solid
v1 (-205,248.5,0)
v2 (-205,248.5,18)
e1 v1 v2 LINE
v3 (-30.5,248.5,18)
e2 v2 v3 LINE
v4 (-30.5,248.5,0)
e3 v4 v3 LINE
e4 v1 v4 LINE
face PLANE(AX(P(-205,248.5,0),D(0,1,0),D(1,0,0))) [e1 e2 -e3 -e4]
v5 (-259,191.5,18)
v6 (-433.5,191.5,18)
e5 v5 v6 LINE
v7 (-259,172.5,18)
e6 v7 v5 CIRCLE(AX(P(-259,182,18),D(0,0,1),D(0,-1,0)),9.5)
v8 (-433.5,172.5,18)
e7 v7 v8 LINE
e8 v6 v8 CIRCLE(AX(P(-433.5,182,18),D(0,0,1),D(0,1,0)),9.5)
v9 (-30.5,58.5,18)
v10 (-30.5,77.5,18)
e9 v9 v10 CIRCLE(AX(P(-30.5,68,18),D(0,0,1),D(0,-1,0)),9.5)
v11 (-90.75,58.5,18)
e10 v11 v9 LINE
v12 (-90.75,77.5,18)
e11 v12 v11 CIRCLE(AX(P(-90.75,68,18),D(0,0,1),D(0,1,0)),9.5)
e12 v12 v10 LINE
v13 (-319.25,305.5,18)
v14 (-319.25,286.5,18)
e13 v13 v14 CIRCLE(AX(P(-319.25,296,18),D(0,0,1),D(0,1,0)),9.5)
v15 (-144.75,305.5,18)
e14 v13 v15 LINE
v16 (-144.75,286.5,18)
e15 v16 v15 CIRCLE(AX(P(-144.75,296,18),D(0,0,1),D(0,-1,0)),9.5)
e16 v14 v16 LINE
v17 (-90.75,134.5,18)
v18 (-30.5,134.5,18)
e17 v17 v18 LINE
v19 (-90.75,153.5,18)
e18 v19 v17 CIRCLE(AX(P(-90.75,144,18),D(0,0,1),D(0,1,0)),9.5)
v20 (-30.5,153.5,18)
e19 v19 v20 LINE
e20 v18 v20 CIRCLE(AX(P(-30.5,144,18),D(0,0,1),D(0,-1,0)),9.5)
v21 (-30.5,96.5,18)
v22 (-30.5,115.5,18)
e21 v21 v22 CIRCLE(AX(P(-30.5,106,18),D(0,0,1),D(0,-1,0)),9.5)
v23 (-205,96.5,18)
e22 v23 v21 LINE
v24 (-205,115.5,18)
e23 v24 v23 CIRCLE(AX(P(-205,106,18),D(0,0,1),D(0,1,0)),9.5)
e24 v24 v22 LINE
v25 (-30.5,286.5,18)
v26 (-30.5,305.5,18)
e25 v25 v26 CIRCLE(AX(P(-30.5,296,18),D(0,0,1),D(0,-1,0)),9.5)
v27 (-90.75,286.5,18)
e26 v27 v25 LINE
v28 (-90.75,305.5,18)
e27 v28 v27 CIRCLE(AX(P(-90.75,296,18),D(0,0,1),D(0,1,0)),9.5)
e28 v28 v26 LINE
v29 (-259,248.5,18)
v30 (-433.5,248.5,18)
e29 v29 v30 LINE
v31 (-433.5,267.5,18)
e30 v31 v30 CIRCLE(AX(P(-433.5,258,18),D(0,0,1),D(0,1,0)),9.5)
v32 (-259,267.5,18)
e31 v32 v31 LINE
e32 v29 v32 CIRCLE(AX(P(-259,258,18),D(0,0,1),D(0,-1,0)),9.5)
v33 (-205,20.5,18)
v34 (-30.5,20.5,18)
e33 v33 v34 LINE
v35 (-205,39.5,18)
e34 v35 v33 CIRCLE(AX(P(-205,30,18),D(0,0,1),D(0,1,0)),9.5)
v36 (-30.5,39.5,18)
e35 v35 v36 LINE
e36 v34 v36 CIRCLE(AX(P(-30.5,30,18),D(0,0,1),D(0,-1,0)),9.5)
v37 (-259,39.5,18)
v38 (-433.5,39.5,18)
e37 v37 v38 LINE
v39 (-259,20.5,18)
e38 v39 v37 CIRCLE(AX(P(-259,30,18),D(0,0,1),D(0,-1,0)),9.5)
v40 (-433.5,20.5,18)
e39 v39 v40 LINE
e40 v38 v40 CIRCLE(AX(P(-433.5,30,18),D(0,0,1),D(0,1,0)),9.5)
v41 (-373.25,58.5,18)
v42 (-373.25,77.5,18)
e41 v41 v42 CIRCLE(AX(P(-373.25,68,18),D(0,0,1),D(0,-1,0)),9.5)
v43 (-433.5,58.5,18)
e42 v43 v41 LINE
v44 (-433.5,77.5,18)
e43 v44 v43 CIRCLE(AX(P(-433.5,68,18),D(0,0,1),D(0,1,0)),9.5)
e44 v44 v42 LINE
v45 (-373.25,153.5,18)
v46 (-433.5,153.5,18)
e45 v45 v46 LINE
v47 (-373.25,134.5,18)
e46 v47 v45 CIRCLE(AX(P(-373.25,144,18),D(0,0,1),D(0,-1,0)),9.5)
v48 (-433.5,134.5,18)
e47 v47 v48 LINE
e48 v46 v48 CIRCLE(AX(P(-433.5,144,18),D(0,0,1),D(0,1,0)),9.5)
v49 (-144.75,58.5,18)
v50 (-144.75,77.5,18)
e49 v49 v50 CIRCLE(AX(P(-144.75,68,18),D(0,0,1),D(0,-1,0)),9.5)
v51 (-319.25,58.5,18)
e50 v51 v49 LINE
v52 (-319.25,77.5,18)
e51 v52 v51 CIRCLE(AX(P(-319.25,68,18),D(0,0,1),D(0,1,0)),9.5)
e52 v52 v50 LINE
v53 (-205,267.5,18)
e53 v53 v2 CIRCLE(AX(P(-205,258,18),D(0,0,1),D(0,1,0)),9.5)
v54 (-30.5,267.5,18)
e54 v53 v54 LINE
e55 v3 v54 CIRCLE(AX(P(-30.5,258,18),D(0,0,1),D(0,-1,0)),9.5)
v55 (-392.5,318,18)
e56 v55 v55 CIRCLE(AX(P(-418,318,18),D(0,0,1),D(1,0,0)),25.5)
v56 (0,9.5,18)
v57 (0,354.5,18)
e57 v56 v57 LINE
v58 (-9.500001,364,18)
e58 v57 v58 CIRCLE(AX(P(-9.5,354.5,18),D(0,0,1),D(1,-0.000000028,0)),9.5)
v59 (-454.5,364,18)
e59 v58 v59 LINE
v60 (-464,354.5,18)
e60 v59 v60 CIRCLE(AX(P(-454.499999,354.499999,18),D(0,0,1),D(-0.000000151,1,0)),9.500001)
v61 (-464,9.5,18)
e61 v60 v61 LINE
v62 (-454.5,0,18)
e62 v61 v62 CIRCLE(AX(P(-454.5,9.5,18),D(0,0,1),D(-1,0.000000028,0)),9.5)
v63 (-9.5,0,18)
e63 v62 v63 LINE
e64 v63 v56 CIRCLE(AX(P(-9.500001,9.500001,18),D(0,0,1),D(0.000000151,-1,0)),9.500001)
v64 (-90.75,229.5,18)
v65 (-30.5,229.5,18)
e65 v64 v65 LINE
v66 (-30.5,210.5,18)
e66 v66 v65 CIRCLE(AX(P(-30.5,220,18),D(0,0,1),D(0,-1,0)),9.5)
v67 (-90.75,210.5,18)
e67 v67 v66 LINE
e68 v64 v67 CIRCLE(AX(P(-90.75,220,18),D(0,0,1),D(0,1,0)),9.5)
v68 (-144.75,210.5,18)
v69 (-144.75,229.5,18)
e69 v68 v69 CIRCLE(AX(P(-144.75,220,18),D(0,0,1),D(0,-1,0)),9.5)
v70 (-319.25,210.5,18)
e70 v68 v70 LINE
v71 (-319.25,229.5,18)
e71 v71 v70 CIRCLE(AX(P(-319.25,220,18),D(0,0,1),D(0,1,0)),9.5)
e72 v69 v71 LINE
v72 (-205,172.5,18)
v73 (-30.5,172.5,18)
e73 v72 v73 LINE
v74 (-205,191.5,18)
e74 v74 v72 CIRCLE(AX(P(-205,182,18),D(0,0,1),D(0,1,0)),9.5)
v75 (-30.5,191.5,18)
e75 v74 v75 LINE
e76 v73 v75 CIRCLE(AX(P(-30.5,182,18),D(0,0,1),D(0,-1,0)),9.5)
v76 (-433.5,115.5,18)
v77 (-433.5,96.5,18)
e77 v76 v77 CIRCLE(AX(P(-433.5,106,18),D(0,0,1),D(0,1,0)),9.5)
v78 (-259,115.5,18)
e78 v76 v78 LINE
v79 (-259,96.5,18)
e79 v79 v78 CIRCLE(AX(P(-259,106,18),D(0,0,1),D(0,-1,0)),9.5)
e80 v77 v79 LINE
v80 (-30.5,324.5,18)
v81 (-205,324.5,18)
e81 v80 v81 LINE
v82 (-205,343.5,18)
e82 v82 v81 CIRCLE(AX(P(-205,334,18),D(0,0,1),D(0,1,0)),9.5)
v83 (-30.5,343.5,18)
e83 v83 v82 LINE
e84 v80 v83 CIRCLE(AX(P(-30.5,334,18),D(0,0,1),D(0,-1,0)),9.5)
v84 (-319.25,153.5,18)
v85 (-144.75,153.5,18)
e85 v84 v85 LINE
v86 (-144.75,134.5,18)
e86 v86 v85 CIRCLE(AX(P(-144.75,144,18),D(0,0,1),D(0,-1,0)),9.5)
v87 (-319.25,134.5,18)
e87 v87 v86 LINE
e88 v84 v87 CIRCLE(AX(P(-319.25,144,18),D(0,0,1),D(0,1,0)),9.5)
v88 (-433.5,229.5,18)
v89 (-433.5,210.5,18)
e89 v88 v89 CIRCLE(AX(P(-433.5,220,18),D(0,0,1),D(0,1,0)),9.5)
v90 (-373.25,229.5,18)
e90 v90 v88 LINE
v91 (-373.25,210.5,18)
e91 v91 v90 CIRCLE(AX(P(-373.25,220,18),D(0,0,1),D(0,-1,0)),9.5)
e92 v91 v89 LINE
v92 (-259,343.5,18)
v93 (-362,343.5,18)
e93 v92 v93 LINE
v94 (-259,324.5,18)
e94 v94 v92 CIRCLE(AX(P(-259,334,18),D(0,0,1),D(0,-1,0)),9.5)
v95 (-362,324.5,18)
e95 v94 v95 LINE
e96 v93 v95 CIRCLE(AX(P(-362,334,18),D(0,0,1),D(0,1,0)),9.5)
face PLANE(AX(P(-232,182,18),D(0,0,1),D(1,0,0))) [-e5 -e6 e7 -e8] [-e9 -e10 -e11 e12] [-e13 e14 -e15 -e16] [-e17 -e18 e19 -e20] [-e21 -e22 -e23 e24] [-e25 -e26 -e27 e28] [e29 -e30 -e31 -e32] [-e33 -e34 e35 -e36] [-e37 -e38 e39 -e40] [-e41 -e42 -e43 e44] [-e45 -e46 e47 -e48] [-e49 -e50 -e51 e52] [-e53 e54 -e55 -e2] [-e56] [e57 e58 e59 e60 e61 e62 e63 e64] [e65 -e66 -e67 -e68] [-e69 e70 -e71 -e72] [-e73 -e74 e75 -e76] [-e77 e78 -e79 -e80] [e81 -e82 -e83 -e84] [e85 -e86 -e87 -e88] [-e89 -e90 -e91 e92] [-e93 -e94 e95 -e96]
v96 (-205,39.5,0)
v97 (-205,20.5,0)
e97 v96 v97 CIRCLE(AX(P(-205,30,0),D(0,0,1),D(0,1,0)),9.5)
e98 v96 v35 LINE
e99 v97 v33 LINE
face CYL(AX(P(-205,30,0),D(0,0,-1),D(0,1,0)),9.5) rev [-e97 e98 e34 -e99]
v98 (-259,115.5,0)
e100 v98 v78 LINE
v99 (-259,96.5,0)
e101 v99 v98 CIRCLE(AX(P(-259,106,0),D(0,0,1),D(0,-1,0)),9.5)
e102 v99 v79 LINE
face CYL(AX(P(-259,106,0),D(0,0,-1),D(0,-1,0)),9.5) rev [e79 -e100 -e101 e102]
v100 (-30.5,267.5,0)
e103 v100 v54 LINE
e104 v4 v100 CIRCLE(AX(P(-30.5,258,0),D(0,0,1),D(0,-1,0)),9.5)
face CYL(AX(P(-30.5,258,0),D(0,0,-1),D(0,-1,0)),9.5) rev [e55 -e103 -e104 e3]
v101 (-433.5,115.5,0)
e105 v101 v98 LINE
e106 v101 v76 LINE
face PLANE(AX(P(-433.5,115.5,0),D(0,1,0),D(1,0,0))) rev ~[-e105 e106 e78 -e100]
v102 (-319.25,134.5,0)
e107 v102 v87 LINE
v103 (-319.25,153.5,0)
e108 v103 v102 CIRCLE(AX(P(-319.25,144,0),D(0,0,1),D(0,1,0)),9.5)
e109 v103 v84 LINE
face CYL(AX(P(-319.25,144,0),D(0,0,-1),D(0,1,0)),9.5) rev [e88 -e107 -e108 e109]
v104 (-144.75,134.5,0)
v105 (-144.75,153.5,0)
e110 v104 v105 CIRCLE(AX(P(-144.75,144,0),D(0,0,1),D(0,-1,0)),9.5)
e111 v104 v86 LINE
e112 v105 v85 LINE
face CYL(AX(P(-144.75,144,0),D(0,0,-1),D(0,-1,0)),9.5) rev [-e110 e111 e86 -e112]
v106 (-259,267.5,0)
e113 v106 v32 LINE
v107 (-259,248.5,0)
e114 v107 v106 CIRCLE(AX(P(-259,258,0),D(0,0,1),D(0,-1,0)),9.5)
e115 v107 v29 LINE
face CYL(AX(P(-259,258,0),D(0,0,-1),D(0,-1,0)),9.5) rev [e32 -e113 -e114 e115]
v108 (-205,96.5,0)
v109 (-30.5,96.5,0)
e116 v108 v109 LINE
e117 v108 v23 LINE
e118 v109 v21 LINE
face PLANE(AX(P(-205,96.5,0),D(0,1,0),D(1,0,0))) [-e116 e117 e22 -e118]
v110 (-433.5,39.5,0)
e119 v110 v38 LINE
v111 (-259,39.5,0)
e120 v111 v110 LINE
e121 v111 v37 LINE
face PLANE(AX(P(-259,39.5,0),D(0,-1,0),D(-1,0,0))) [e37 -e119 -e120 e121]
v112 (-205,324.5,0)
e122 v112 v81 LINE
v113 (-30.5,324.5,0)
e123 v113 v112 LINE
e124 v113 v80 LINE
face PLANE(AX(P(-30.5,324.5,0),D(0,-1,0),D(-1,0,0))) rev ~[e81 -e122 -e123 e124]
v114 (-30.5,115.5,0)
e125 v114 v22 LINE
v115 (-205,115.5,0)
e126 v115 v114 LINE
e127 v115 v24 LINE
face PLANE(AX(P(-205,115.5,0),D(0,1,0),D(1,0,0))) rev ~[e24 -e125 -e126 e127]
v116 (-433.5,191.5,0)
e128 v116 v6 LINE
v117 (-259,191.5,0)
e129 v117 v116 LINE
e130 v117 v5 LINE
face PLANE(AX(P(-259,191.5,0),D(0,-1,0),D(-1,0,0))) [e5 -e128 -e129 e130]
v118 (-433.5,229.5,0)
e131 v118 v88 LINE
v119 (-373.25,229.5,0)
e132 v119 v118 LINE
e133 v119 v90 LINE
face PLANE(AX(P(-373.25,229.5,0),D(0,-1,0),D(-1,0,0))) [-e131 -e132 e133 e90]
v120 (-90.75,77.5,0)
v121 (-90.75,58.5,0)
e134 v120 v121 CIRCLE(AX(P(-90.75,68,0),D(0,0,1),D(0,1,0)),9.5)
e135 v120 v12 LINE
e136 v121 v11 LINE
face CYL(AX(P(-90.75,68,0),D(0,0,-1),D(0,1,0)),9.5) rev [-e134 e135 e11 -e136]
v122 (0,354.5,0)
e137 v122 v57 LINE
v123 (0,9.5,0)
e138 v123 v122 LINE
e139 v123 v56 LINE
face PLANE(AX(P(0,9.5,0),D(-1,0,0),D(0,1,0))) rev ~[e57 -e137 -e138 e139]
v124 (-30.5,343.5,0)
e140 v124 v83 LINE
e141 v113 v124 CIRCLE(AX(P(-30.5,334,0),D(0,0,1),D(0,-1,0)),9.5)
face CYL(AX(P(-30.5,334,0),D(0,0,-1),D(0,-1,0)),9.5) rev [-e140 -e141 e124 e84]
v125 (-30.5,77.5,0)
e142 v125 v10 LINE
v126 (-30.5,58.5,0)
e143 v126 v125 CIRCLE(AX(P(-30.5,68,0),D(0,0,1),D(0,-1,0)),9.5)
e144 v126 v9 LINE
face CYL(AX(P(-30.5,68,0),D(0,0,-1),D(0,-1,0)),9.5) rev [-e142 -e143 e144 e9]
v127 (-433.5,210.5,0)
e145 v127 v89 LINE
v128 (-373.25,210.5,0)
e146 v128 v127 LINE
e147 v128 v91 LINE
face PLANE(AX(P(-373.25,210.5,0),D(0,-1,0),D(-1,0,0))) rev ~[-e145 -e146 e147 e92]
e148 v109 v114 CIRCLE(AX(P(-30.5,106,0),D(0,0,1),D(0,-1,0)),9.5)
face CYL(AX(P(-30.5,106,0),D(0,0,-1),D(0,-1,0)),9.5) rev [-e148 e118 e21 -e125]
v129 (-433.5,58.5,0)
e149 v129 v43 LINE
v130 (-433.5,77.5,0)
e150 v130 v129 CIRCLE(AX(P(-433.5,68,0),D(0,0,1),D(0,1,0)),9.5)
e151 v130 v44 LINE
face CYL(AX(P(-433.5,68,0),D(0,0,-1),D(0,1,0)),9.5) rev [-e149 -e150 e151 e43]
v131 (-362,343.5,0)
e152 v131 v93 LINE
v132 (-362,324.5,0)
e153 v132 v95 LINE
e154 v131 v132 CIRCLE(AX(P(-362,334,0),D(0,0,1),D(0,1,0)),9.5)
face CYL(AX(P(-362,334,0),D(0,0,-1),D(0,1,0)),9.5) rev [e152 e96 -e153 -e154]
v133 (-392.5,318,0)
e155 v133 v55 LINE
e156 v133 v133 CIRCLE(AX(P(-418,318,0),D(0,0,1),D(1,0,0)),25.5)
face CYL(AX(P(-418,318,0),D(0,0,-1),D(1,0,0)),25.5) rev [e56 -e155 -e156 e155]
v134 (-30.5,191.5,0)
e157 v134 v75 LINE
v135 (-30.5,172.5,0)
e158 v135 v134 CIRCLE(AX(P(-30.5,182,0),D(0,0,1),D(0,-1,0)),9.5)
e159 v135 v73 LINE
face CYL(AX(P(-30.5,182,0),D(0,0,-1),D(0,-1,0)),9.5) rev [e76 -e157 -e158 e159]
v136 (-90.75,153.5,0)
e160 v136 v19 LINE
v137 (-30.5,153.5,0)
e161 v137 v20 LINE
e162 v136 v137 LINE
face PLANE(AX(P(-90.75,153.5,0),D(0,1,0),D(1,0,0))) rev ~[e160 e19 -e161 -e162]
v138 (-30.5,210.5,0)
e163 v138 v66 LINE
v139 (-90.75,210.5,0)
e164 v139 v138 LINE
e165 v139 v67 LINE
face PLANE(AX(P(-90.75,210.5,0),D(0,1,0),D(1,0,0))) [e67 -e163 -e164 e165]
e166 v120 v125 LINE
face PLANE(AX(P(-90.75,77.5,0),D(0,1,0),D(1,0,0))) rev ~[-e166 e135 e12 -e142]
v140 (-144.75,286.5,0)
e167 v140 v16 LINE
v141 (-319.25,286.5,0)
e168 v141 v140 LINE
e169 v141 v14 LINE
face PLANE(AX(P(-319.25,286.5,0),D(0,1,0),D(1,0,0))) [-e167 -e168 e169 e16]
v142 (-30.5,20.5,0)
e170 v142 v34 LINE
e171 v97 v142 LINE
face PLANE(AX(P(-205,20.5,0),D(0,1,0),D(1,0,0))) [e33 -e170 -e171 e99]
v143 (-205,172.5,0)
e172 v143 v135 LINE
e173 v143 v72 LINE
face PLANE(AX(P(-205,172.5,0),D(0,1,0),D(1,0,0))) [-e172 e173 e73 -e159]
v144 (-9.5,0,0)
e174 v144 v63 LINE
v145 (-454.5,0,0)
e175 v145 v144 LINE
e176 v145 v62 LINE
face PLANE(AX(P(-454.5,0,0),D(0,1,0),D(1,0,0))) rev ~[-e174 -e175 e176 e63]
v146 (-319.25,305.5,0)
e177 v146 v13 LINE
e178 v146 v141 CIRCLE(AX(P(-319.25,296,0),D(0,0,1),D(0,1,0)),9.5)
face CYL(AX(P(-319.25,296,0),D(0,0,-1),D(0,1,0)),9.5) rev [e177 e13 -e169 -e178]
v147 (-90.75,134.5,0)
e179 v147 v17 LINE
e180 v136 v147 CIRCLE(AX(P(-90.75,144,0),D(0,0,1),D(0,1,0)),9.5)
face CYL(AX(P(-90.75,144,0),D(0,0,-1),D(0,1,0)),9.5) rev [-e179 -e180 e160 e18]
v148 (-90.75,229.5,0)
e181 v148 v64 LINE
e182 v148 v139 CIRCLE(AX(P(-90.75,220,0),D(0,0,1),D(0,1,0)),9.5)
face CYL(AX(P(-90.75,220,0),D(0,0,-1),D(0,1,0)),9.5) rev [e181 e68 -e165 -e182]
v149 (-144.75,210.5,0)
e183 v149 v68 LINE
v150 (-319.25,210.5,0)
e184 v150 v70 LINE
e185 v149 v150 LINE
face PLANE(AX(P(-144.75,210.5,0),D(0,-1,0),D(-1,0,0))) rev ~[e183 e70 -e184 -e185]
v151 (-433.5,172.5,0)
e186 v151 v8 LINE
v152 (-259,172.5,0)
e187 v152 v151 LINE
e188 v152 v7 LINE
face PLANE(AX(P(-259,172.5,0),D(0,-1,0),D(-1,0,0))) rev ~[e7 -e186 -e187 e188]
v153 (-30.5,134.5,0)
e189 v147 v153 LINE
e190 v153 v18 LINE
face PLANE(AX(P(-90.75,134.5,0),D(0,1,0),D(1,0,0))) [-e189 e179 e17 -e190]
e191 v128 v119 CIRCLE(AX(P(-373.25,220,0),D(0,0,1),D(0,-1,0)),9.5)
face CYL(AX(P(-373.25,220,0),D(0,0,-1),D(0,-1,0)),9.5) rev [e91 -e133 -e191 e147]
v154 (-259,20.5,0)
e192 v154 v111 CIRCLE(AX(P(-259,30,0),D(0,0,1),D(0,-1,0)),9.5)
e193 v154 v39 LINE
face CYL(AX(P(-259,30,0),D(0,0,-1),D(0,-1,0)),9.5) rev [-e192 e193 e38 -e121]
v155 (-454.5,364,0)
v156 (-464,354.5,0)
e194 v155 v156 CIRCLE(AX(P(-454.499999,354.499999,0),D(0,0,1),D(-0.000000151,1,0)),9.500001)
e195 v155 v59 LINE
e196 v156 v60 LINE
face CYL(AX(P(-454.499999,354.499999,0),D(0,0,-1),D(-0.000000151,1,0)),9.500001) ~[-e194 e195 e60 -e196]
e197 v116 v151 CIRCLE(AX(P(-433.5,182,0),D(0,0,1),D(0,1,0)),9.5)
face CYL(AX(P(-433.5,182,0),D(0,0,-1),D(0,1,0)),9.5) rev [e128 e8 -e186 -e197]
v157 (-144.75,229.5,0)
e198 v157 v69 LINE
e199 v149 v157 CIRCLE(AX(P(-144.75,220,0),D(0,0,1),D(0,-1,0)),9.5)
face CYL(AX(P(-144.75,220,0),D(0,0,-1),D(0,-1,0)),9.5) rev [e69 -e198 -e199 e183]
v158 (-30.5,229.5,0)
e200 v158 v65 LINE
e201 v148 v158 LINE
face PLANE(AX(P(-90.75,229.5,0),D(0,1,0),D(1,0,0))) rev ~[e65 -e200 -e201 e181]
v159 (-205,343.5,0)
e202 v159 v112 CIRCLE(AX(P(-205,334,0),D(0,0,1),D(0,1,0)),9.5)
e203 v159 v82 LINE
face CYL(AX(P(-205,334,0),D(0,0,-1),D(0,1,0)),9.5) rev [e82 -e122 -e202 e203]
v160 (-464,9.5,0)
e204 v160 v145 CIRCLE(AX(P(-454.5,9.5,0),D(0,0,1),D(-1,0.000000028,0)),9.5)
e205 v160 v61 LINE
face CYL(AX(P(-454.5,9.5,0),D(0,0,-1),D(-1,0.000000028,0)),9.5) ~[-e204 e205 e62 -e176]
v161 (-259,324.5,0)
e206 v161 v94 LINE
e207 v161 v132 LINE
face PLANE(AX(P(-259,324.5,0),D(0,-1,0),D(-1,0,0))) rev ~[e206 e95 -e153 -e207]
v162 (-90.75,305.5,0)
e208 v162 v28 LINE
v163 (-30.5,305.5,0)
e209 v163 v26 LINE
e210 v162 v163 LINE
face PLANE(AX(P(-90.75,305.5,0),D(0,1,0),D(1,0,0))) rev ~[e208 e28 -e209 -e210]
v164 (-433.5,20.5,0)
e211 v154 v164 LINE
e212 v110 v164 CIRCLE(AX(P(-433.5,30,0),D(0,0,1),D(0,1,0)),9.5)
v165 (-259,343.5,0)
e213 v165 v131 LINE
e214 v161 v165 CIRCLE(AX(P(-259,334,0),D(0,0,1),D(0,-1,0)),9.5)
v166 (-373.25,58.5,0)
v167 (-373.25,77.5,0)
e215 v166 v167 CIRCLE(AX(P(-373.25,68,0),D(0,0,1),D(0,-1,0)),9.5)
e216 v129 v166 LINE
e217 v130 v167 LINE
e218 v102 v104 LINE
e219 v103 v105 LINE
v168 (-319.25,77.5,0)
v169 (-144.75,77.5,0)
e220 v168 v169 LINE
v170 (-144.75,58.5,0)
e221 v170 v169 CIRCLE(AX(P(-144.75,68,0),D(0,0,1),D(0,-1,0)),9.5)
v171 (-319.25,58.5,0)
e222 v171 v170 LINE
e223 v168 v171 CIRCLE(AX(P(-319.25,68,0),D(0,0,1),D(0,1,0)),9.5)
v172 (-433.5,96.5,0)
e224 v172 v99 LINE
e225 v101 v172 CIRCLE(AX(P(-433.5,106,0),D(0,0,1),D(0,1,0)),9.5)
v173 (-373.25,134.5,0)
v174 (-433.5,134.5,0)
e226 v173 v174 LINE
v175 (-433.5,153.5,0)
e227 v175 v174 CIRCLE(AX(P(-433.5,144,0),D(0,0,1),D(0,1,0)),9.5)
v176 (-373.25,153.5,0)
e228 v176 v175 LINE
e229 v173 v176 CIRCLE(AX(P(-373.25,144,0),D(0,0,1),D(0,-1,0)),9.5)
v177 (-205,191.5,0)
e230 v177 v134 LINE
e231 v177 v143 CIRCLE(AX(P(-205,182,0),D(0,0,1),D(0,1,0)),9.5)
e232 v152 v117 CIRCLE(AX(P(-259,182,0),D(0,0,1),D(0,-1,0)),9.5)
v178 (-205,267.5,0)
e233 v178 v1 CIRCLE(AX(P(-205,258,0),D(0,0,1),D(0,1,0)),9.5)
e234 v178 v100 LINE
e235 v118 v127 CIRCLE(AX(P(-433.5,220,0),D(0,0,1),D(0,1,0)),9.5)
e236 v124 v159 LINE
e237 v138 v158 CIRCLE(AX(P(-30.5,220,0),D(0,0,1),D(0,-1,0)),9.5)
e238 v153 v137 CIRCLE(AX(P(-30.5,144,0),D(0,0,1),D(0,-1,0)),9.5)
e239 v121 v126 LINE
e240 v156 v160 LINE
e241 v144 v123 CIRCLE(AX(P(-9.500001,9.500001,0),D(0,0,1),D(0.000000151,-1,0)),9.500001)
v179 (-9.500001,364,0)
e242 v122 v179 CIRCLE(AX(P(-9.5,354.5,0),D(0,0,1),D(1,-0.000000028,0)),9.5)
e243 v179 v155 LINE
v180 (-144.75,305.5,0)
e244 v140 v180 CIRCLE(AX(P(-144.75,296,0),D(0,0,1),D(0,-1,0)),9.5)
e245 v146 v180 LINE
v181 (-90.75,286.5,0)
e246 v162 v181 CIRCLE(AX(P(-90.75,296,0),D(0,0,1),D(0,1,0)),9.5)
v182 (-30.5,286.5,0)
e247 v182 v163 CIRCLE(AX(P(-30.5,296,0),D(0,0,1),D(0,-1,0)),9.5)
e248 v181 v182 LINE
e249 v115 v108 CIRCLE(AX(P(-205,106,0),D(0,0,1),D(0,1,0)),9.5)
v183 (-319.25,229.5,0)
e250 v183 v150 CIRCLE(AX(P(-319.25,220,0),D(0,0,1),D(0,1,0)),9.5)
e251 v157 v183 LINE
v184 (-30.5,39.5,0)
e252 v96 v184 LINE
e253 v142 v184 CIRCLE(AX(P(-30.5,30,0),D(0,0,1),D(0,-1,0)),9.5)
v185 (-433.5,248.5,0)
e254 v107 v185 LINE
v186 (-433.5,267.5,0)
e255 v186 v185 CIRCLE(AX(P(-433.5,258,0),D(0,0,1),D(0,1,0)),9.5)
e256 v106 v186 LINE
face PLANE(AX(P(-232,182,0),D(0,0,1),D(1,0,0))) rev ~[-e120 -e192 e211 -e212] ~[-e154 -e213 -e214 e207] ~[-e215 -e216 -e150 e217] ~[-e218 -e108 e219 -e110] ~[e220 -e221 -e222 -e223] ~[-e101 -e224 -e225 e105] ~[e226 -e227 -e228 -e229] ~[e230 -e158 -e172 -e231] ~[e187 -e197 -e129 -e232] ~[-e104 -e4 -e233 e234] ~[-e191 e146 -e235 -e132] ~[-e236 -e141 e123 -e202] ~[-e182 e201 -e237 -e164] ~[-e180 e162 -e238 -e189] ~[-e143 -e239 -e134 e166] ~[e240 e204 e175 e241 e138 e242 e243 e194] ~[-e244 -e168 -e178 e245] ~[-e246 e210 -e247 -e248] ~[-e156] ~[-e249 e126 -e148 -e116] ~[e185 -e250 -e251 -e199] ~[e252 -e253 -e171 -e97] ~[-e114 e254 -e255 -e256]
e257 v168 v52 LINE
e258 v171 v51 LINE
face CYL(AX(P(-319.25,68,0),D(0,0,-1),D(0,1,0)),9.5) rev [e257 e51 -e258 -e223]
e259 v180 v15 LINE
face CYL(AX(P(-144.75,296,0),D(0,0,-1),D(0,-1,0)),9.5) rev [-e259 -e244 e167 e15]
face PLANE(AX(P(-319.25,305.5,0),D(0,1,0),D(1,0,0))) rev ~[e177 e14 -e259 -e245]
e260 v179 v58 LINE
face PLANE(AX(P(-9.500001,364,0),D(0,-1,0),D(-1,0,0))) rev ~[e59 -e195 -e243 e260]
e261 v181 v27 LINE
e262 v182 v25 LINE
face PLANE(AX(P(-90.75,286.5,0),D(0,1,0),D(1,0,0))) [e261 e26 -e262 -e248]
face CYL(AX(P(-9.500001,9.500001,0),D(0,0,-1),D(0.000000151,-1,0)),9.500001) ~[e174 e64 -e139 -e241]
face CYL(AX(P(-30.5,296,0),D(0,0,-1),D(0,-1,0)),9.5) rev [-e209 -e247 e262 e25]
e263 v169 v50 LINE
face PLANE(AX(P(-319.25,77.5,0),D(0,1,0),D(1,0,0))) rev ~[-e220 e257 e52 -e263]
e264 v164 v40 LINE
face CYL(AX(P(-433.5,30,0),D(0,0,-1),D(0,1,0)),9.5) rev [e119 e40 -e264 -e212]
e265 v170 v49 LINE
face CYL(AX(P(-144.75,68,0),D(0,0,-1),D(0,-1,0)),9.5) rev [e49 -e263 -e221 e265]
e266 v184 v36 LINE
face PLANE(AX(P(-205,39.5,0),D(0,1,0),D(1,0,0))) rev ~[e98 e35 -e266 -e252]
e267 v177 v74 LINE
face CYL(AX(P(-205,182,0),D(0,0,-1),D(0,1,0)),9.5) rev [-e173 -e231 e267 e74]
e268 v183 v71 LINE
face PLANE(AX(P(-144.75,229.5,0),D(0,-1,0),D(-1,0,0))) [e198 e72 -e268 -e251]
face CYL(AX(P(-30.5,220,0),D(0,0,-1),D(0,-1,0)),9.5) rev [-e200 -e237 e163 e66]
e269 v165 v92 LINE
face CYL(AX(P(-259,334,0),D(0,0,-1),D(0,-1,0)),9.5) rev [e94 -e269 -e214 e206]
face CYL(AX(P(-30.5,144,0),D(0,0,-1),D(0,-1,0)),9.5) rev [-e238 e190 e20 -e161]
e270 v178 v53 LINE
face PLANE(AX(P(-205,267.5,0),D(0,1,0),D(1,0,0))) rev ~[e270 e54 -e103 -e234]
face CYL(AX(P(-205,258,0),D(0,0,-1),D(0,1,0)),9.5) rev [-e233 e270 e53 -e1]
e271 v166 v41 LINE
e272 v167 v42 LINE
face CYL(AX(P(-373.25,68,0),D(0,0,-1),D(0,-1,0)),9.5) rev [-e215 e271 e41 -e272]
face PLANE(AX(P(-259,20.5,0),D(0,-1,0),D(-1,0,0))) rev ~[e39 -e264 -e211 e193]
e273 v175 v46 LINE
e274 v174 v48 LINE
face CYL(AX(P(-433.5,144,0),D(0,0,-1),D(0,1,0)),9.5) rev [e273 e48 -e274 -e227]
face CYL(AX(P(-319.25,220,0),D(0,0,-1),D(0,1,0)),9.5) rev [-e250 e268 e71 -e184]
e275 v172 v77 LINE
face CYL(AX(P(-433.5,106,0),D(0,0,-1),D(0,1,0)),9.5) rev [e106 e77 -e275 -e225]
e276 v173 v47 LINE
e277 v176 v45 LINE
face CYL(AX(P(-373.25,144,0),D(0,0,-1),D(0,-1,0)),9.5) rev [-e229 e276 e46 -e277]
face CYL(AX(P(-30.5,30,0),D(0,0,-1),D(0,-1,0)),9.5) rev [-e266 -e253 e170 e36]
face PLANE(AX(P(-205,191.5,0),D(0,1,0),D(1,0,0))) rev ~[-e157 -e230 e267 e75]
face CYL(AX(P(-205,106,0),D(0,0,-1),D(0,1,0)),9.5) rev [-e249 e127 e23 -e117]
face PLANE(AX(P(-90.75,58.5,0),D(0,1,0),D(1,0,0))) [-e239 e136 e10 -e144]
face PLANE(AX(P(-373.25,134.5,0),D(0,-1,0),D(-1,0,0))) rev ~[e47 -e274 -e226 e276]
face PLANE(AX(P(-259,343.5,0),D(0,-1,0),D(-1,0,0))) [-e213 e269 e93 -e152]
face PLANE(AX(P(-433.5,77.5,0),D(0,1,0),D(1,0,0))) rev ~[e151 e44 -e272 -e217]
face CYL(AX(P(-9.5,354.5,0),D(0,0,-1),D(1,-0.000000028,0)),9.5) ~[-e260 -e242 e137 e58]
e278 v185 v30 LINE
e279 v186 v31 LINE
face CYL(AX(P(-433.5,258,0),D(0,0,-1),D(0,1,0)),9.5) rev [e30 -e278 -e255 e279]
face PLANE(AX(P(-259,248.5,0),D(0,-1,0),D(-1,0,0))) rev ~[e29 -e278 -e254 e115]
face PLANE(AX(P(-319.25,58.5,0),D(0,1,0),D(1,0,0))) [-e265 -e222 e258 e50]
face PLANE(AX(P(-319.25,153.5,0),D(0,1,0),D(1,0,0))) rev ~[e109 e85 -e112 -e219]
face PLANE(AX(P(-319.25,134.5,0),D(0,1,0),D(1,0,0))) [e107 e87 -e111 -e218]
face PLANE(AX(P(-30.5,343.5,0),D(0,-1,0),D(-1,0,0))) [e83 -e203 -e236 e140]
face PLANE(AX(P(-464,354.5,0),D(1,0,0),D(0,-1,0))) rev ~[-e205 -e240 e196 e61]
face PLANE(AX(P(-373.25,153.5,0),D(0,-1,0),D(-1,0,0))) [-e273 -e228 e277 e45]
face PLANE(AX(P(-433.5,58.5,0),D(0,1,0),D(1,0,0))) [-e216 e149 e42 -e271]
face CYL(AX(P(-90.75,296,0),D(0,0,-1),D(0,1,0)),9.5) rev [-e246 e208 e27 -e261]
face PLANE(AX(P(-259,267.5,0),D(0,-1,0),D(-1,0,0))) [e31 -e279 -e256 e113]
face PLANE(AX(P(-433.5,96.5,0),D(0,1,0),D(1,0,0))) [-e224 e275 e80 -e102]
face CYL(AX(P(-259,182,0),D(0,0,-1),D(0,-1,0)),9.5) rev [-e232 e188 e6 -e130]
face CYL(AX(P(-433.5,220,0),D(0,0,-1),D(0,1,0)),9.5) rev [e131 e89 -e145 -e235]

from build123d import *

# Parameters (mm, degrees)
SKETCH_R  = 25.5
PAD_DEPTH = 18


with BuildPart() as part:
    # Sketch → Pad (new body)
    with BuildSketch(Plane.XY):
        with BuildLine():
            ThreePointArc((-9.5, 0), (-2.782486, 2.782486), (0, 9.5))
            Line((0, 9.5), (0, 354.5))
            ThreePointArc((0, 354.5), (-2.782486, 361.217515), (-9.500001, 364))
            Line((-9.500001, 364), (-454.5, 364))
            ThreePointArc((-454.5, 364), (-461.217514, 361.217514), (-464, 354.5))
            Line((-464, 354.5), (-464, 9.5))
            ThreePointArc((-464, 9.5), (-461.217514, 2.782485), (-454.5, 0))
            Line((-454.5, 0), (-9.5, 0))
        make_face()
        with Locations((-418, 318)):
            Circle(SKETCH_R, mode=Mode.SUBTRACT)
        with BuildLine():
            ThreePointArc((-205, 39.5), (-214.5, 30), (-205, 20.5))
            Line((-205, 20.5), (-30.5, 20.5))
            ThreePointArc((-30.5, 20.5), (-21, 30), (-30.5, 39.5))
            Line((-205, 39.5), (-30.5, 39.5))
        make_face(mode=Mode.SUBTRACT)
        with BuildLine():
            ThreePointArc((-90.75, 77.5), (-100.25, 68), (-90.75, 58.5))
            Line((-90.75, 58.5), (-30.5, 58.5))
            ThreePointArc((-30.5, 58.5), (-21, 68), (-30.5, 77.5))
            Line((-90.75, 77.5), (-30.5, 77.5))
        make_face(mode=Mode.SUBTRACT)
        with BuildLine():
            ThreePointArc((-205, 115.5), (-214.5, 106), (-205, 96.5))
            Line((-205, 96.5), (-30.5, 96.5))
            ThreePointArc((-30.5, 96.5), (-21, 106), (-30.5, 115.5))
            Line((-205, 115.5), (-30.5, 115.5))
        make_face(mode=Mode.SUBTRACT)
        with BuildLine():
            ThreePointArc((-90.75, 153.5), (-100.25, 144), (-90.75, 134.5))
            Line((-90.75, 134.5), (-30.5, 134.5))
            ThreePointArc((-30.5, 134.5), (-21, 144), (-30.5, 153.5))
            Line((-90.75, 153.5), (-30.5, 153.5))
        make_face(mode=Mode.SUBTRACT)
        with BuildLine():
            ThreePointArc((-205, 191.5), (-214.5, 182), (-205, 172.5))
            Line((-205, 172.5), (-30.5, 172.5))
            ThreePointArc((-30.5, 172.5), (-21, 182), (-30.5, 191.5))
            Line((-205, 191.5), (-30.5, 191.5))
        make_face(mode=Mode.SUBTRACT)
        with BuildLine():
            ThreePointArc((-90.75, 229.5), (-100.25, 220), (-90.75, 210.5))
            Line((-90.75, 210.5), (-30.5, 210.5))
            ThreePointArc((-30.5, 210.5), (-21, 220), (-30.5, 229.5))
            Line((-90.75, 229.5), (-30.5, 229.5))
        make_face(mode=Mode.SUBTRACT)
        with BuildLine():
            ThreePointArc((-205, 267.5), (-214.5, 258), (-205, 248.5))
            Line((-205, 248.5), (-30.5, 248.5))
            ThreePointArc((-30.5, 248.5), (-21, 258), (-30.5, 267.5))
            Line((-205, 267.5), (-30.5, 267.5))
        make_face(mode=Mode.SUBTRACT)
        with BuildLine():
            ThreePointArc((-90.75, 305.5), (-100.25, 296), (-90.75, 286.5))
            Line((-90.75, 286.5), (-30.5, 286.5))
            ThreePointArc((-30.5, 286.5), (-21, 296), (-30.5, 305.5))
            Line((-90.75, 305.5), (-30.5, 305.5))
        make_face(mode=Mode.SUBTRACT)
        with BuildLine():
            ThreePointArc((-259, 20.5), (-249.5, 30), (-259, 39.5))
            Line((-259, 39.5), (-433.5, 39.5))
            ThreePointArc((-433.5, 39.5), (-443, 30), (-433.5, 20.5))
            Line((-259, 20.5), (-433.5, 20.5))
        make_face(mode=Mode.SUBTRACT)
        with BuildLine():
            ThreePointArc((-433.5, 77.5), (-443, 68), (-433.5, 58.5))
            Line((-433.5, 58.5), (-373.25, 58.5))
            ThreePointArc((-373.25, 58.5), (-363.75, 68), (-373.25, 77.5))
            Line((-433.5, 77.5), (-373.25, 77.5))
        make_face(mode=Mode.SUBTRACT)
        with BuildLine():
            ThreePointArc((-319.25, 77.5), (-328.75, 68), (-319.25, 58.5))
            Line((-319.25, 58.5), (-144.75, 58.5))
            ThreePointArc((-144.75, 58.5), (-135.25, 68), (-144.75, 77.5))
            Line((-319.25, 77.5), (-144.75, 77.5))
        make_face(mode=Mode.SUBTRACT)
        with BuildLine():
            ThreePointArc((-433.5, 115.5), (-443, 106), (-433.5, 96.5))
            Line((-433.5, 96.5), (-259, 96.5))
            ThreePointArc((-259, 96.5), (-249.5, 106), (-259, 115.5))
            Line((-433.5, 115.5), (-259, 115.5))
        make_face(mode=Mode.SUBTRACT)
        with BuildLine():
            ThreePointArc((-319.25, 153.5), (-328.75, 144), (-319.25, 134.5))
            Line((-319.25, 134.5), (-144.75, 134.5))
            ThreePointArc((-144.75, 134.5), (-135.25, 144), (-144.75, 153.5))
            Line((-319.25, 153.5), (-144.75, 153.5))
        make_face(mode=Mode.SUBTRACT)
        with BuildLine():
            ThreePointArc((-373.25, 134.5), (-363.75, 144), (-373.25, 153.5))
            Line((-373.25, 153.5), (-433.5, 153.5))
            ThreePointArc((-433.5, 153.5), (-443, 144), (-433.5, 134.5))
            Line((-373.25, 134.5), (-433.5, 134.5))
        make_face(mode=Mode.SUBTRACT)
        with BuildLine():
            ThreePointArc((-259, 172.5), (-249.5, 182), (-259, 191.5))
            Line((-259, 191.5), (-433.5, 191.5))
            ThreePointArc((-433.5, 191.5), (-443, 182), (-433.5, 172.5))
            Line((-259, 172.5), (-433.5, 172.5))
        make_face(mode=Mode.SUBTRACT)
        with BuildLine():
            ThreePointArc((-144.75, 210.5), (-135.25, 220), (-144.75, 229.5))
            Line((-144.75, 229.5), (-319.25, 229.5))
            ThreePointArc((-319.25, 229.5), (-328.75, 220), (-319.25, 210.5))
            Line((-144.75, 210.5), (-319.25, 210.5))
        make_face(mode=Mode.SUBTRACT)
        with BuildLine():
            ThreePointArc((-373.25, 210.5), (-363.75, 220), (-373.25, 229.5))
            Line((-373.25, 229.5), (-433.5, 229.5))
            ThreePointArc((-433.5, 229.5), (-443, 220), (-433.5, 210.5))
            Line((-373.25, 210.5), (-433.5, 210.5))
        make_face(mode=Mode.SUBTRACT)
        with BuildLine():
            ThreePointArc((-259, 248.5), (-249.5, 258), (-259, 267.5))
            Line((-259, 267.5), (-433.5, 267.5))
            ThreePointArc((-433.5, 267.5), (-443, 258), (-433.5, 248.5))
            Line((-259, 248.5), (-433.5, 248.5))
        make_face(mode=Mode.SUBTRACT)
        with BuildLine():
            ThreePointArc((-319.25, 305.5), (-328.75, 296), (-319.25, 286.5))
            Line((-319.25, 286.5), (-144.75, 286.5))
            ThreePointArc((-144.75, 286.5), (-135.25, 296), (-144.75, 305.5))
            Line((-319.25, 305.5), (-144.75, 305.5))
        make_face(mode=Mode.SUBTRACT)
        with BuildLine():
            ThreePointArc((-30.5, 324.5), (-21, 334), (-30.5, 343.5))
            Line((-30.5, 343.5), (-205, 343.5))
            ThreePointArc((-205, 343.5), (-214.5, 334), (-205, 324.5))
            Line((-30.5, 324.5), (-205, 324.5))
        make_face(mode=Mode.SUBTRACT)
        with BuildLine():
            ThreePointArc((-259, 324.5), (-249.5, 334), (-259, 343.5))
            Line((-259, 343.5), (-362, 343.5))
            ThreePointArc((-362, 343.5), (-371.5, 334), (-362, 324.5))
            Line((-259, 324.5), (-362, 324.5))
        make_face(mode=Mode.SUBTRACT)
    extrude(amount=PAD_DEPTH)


solid = part.part
